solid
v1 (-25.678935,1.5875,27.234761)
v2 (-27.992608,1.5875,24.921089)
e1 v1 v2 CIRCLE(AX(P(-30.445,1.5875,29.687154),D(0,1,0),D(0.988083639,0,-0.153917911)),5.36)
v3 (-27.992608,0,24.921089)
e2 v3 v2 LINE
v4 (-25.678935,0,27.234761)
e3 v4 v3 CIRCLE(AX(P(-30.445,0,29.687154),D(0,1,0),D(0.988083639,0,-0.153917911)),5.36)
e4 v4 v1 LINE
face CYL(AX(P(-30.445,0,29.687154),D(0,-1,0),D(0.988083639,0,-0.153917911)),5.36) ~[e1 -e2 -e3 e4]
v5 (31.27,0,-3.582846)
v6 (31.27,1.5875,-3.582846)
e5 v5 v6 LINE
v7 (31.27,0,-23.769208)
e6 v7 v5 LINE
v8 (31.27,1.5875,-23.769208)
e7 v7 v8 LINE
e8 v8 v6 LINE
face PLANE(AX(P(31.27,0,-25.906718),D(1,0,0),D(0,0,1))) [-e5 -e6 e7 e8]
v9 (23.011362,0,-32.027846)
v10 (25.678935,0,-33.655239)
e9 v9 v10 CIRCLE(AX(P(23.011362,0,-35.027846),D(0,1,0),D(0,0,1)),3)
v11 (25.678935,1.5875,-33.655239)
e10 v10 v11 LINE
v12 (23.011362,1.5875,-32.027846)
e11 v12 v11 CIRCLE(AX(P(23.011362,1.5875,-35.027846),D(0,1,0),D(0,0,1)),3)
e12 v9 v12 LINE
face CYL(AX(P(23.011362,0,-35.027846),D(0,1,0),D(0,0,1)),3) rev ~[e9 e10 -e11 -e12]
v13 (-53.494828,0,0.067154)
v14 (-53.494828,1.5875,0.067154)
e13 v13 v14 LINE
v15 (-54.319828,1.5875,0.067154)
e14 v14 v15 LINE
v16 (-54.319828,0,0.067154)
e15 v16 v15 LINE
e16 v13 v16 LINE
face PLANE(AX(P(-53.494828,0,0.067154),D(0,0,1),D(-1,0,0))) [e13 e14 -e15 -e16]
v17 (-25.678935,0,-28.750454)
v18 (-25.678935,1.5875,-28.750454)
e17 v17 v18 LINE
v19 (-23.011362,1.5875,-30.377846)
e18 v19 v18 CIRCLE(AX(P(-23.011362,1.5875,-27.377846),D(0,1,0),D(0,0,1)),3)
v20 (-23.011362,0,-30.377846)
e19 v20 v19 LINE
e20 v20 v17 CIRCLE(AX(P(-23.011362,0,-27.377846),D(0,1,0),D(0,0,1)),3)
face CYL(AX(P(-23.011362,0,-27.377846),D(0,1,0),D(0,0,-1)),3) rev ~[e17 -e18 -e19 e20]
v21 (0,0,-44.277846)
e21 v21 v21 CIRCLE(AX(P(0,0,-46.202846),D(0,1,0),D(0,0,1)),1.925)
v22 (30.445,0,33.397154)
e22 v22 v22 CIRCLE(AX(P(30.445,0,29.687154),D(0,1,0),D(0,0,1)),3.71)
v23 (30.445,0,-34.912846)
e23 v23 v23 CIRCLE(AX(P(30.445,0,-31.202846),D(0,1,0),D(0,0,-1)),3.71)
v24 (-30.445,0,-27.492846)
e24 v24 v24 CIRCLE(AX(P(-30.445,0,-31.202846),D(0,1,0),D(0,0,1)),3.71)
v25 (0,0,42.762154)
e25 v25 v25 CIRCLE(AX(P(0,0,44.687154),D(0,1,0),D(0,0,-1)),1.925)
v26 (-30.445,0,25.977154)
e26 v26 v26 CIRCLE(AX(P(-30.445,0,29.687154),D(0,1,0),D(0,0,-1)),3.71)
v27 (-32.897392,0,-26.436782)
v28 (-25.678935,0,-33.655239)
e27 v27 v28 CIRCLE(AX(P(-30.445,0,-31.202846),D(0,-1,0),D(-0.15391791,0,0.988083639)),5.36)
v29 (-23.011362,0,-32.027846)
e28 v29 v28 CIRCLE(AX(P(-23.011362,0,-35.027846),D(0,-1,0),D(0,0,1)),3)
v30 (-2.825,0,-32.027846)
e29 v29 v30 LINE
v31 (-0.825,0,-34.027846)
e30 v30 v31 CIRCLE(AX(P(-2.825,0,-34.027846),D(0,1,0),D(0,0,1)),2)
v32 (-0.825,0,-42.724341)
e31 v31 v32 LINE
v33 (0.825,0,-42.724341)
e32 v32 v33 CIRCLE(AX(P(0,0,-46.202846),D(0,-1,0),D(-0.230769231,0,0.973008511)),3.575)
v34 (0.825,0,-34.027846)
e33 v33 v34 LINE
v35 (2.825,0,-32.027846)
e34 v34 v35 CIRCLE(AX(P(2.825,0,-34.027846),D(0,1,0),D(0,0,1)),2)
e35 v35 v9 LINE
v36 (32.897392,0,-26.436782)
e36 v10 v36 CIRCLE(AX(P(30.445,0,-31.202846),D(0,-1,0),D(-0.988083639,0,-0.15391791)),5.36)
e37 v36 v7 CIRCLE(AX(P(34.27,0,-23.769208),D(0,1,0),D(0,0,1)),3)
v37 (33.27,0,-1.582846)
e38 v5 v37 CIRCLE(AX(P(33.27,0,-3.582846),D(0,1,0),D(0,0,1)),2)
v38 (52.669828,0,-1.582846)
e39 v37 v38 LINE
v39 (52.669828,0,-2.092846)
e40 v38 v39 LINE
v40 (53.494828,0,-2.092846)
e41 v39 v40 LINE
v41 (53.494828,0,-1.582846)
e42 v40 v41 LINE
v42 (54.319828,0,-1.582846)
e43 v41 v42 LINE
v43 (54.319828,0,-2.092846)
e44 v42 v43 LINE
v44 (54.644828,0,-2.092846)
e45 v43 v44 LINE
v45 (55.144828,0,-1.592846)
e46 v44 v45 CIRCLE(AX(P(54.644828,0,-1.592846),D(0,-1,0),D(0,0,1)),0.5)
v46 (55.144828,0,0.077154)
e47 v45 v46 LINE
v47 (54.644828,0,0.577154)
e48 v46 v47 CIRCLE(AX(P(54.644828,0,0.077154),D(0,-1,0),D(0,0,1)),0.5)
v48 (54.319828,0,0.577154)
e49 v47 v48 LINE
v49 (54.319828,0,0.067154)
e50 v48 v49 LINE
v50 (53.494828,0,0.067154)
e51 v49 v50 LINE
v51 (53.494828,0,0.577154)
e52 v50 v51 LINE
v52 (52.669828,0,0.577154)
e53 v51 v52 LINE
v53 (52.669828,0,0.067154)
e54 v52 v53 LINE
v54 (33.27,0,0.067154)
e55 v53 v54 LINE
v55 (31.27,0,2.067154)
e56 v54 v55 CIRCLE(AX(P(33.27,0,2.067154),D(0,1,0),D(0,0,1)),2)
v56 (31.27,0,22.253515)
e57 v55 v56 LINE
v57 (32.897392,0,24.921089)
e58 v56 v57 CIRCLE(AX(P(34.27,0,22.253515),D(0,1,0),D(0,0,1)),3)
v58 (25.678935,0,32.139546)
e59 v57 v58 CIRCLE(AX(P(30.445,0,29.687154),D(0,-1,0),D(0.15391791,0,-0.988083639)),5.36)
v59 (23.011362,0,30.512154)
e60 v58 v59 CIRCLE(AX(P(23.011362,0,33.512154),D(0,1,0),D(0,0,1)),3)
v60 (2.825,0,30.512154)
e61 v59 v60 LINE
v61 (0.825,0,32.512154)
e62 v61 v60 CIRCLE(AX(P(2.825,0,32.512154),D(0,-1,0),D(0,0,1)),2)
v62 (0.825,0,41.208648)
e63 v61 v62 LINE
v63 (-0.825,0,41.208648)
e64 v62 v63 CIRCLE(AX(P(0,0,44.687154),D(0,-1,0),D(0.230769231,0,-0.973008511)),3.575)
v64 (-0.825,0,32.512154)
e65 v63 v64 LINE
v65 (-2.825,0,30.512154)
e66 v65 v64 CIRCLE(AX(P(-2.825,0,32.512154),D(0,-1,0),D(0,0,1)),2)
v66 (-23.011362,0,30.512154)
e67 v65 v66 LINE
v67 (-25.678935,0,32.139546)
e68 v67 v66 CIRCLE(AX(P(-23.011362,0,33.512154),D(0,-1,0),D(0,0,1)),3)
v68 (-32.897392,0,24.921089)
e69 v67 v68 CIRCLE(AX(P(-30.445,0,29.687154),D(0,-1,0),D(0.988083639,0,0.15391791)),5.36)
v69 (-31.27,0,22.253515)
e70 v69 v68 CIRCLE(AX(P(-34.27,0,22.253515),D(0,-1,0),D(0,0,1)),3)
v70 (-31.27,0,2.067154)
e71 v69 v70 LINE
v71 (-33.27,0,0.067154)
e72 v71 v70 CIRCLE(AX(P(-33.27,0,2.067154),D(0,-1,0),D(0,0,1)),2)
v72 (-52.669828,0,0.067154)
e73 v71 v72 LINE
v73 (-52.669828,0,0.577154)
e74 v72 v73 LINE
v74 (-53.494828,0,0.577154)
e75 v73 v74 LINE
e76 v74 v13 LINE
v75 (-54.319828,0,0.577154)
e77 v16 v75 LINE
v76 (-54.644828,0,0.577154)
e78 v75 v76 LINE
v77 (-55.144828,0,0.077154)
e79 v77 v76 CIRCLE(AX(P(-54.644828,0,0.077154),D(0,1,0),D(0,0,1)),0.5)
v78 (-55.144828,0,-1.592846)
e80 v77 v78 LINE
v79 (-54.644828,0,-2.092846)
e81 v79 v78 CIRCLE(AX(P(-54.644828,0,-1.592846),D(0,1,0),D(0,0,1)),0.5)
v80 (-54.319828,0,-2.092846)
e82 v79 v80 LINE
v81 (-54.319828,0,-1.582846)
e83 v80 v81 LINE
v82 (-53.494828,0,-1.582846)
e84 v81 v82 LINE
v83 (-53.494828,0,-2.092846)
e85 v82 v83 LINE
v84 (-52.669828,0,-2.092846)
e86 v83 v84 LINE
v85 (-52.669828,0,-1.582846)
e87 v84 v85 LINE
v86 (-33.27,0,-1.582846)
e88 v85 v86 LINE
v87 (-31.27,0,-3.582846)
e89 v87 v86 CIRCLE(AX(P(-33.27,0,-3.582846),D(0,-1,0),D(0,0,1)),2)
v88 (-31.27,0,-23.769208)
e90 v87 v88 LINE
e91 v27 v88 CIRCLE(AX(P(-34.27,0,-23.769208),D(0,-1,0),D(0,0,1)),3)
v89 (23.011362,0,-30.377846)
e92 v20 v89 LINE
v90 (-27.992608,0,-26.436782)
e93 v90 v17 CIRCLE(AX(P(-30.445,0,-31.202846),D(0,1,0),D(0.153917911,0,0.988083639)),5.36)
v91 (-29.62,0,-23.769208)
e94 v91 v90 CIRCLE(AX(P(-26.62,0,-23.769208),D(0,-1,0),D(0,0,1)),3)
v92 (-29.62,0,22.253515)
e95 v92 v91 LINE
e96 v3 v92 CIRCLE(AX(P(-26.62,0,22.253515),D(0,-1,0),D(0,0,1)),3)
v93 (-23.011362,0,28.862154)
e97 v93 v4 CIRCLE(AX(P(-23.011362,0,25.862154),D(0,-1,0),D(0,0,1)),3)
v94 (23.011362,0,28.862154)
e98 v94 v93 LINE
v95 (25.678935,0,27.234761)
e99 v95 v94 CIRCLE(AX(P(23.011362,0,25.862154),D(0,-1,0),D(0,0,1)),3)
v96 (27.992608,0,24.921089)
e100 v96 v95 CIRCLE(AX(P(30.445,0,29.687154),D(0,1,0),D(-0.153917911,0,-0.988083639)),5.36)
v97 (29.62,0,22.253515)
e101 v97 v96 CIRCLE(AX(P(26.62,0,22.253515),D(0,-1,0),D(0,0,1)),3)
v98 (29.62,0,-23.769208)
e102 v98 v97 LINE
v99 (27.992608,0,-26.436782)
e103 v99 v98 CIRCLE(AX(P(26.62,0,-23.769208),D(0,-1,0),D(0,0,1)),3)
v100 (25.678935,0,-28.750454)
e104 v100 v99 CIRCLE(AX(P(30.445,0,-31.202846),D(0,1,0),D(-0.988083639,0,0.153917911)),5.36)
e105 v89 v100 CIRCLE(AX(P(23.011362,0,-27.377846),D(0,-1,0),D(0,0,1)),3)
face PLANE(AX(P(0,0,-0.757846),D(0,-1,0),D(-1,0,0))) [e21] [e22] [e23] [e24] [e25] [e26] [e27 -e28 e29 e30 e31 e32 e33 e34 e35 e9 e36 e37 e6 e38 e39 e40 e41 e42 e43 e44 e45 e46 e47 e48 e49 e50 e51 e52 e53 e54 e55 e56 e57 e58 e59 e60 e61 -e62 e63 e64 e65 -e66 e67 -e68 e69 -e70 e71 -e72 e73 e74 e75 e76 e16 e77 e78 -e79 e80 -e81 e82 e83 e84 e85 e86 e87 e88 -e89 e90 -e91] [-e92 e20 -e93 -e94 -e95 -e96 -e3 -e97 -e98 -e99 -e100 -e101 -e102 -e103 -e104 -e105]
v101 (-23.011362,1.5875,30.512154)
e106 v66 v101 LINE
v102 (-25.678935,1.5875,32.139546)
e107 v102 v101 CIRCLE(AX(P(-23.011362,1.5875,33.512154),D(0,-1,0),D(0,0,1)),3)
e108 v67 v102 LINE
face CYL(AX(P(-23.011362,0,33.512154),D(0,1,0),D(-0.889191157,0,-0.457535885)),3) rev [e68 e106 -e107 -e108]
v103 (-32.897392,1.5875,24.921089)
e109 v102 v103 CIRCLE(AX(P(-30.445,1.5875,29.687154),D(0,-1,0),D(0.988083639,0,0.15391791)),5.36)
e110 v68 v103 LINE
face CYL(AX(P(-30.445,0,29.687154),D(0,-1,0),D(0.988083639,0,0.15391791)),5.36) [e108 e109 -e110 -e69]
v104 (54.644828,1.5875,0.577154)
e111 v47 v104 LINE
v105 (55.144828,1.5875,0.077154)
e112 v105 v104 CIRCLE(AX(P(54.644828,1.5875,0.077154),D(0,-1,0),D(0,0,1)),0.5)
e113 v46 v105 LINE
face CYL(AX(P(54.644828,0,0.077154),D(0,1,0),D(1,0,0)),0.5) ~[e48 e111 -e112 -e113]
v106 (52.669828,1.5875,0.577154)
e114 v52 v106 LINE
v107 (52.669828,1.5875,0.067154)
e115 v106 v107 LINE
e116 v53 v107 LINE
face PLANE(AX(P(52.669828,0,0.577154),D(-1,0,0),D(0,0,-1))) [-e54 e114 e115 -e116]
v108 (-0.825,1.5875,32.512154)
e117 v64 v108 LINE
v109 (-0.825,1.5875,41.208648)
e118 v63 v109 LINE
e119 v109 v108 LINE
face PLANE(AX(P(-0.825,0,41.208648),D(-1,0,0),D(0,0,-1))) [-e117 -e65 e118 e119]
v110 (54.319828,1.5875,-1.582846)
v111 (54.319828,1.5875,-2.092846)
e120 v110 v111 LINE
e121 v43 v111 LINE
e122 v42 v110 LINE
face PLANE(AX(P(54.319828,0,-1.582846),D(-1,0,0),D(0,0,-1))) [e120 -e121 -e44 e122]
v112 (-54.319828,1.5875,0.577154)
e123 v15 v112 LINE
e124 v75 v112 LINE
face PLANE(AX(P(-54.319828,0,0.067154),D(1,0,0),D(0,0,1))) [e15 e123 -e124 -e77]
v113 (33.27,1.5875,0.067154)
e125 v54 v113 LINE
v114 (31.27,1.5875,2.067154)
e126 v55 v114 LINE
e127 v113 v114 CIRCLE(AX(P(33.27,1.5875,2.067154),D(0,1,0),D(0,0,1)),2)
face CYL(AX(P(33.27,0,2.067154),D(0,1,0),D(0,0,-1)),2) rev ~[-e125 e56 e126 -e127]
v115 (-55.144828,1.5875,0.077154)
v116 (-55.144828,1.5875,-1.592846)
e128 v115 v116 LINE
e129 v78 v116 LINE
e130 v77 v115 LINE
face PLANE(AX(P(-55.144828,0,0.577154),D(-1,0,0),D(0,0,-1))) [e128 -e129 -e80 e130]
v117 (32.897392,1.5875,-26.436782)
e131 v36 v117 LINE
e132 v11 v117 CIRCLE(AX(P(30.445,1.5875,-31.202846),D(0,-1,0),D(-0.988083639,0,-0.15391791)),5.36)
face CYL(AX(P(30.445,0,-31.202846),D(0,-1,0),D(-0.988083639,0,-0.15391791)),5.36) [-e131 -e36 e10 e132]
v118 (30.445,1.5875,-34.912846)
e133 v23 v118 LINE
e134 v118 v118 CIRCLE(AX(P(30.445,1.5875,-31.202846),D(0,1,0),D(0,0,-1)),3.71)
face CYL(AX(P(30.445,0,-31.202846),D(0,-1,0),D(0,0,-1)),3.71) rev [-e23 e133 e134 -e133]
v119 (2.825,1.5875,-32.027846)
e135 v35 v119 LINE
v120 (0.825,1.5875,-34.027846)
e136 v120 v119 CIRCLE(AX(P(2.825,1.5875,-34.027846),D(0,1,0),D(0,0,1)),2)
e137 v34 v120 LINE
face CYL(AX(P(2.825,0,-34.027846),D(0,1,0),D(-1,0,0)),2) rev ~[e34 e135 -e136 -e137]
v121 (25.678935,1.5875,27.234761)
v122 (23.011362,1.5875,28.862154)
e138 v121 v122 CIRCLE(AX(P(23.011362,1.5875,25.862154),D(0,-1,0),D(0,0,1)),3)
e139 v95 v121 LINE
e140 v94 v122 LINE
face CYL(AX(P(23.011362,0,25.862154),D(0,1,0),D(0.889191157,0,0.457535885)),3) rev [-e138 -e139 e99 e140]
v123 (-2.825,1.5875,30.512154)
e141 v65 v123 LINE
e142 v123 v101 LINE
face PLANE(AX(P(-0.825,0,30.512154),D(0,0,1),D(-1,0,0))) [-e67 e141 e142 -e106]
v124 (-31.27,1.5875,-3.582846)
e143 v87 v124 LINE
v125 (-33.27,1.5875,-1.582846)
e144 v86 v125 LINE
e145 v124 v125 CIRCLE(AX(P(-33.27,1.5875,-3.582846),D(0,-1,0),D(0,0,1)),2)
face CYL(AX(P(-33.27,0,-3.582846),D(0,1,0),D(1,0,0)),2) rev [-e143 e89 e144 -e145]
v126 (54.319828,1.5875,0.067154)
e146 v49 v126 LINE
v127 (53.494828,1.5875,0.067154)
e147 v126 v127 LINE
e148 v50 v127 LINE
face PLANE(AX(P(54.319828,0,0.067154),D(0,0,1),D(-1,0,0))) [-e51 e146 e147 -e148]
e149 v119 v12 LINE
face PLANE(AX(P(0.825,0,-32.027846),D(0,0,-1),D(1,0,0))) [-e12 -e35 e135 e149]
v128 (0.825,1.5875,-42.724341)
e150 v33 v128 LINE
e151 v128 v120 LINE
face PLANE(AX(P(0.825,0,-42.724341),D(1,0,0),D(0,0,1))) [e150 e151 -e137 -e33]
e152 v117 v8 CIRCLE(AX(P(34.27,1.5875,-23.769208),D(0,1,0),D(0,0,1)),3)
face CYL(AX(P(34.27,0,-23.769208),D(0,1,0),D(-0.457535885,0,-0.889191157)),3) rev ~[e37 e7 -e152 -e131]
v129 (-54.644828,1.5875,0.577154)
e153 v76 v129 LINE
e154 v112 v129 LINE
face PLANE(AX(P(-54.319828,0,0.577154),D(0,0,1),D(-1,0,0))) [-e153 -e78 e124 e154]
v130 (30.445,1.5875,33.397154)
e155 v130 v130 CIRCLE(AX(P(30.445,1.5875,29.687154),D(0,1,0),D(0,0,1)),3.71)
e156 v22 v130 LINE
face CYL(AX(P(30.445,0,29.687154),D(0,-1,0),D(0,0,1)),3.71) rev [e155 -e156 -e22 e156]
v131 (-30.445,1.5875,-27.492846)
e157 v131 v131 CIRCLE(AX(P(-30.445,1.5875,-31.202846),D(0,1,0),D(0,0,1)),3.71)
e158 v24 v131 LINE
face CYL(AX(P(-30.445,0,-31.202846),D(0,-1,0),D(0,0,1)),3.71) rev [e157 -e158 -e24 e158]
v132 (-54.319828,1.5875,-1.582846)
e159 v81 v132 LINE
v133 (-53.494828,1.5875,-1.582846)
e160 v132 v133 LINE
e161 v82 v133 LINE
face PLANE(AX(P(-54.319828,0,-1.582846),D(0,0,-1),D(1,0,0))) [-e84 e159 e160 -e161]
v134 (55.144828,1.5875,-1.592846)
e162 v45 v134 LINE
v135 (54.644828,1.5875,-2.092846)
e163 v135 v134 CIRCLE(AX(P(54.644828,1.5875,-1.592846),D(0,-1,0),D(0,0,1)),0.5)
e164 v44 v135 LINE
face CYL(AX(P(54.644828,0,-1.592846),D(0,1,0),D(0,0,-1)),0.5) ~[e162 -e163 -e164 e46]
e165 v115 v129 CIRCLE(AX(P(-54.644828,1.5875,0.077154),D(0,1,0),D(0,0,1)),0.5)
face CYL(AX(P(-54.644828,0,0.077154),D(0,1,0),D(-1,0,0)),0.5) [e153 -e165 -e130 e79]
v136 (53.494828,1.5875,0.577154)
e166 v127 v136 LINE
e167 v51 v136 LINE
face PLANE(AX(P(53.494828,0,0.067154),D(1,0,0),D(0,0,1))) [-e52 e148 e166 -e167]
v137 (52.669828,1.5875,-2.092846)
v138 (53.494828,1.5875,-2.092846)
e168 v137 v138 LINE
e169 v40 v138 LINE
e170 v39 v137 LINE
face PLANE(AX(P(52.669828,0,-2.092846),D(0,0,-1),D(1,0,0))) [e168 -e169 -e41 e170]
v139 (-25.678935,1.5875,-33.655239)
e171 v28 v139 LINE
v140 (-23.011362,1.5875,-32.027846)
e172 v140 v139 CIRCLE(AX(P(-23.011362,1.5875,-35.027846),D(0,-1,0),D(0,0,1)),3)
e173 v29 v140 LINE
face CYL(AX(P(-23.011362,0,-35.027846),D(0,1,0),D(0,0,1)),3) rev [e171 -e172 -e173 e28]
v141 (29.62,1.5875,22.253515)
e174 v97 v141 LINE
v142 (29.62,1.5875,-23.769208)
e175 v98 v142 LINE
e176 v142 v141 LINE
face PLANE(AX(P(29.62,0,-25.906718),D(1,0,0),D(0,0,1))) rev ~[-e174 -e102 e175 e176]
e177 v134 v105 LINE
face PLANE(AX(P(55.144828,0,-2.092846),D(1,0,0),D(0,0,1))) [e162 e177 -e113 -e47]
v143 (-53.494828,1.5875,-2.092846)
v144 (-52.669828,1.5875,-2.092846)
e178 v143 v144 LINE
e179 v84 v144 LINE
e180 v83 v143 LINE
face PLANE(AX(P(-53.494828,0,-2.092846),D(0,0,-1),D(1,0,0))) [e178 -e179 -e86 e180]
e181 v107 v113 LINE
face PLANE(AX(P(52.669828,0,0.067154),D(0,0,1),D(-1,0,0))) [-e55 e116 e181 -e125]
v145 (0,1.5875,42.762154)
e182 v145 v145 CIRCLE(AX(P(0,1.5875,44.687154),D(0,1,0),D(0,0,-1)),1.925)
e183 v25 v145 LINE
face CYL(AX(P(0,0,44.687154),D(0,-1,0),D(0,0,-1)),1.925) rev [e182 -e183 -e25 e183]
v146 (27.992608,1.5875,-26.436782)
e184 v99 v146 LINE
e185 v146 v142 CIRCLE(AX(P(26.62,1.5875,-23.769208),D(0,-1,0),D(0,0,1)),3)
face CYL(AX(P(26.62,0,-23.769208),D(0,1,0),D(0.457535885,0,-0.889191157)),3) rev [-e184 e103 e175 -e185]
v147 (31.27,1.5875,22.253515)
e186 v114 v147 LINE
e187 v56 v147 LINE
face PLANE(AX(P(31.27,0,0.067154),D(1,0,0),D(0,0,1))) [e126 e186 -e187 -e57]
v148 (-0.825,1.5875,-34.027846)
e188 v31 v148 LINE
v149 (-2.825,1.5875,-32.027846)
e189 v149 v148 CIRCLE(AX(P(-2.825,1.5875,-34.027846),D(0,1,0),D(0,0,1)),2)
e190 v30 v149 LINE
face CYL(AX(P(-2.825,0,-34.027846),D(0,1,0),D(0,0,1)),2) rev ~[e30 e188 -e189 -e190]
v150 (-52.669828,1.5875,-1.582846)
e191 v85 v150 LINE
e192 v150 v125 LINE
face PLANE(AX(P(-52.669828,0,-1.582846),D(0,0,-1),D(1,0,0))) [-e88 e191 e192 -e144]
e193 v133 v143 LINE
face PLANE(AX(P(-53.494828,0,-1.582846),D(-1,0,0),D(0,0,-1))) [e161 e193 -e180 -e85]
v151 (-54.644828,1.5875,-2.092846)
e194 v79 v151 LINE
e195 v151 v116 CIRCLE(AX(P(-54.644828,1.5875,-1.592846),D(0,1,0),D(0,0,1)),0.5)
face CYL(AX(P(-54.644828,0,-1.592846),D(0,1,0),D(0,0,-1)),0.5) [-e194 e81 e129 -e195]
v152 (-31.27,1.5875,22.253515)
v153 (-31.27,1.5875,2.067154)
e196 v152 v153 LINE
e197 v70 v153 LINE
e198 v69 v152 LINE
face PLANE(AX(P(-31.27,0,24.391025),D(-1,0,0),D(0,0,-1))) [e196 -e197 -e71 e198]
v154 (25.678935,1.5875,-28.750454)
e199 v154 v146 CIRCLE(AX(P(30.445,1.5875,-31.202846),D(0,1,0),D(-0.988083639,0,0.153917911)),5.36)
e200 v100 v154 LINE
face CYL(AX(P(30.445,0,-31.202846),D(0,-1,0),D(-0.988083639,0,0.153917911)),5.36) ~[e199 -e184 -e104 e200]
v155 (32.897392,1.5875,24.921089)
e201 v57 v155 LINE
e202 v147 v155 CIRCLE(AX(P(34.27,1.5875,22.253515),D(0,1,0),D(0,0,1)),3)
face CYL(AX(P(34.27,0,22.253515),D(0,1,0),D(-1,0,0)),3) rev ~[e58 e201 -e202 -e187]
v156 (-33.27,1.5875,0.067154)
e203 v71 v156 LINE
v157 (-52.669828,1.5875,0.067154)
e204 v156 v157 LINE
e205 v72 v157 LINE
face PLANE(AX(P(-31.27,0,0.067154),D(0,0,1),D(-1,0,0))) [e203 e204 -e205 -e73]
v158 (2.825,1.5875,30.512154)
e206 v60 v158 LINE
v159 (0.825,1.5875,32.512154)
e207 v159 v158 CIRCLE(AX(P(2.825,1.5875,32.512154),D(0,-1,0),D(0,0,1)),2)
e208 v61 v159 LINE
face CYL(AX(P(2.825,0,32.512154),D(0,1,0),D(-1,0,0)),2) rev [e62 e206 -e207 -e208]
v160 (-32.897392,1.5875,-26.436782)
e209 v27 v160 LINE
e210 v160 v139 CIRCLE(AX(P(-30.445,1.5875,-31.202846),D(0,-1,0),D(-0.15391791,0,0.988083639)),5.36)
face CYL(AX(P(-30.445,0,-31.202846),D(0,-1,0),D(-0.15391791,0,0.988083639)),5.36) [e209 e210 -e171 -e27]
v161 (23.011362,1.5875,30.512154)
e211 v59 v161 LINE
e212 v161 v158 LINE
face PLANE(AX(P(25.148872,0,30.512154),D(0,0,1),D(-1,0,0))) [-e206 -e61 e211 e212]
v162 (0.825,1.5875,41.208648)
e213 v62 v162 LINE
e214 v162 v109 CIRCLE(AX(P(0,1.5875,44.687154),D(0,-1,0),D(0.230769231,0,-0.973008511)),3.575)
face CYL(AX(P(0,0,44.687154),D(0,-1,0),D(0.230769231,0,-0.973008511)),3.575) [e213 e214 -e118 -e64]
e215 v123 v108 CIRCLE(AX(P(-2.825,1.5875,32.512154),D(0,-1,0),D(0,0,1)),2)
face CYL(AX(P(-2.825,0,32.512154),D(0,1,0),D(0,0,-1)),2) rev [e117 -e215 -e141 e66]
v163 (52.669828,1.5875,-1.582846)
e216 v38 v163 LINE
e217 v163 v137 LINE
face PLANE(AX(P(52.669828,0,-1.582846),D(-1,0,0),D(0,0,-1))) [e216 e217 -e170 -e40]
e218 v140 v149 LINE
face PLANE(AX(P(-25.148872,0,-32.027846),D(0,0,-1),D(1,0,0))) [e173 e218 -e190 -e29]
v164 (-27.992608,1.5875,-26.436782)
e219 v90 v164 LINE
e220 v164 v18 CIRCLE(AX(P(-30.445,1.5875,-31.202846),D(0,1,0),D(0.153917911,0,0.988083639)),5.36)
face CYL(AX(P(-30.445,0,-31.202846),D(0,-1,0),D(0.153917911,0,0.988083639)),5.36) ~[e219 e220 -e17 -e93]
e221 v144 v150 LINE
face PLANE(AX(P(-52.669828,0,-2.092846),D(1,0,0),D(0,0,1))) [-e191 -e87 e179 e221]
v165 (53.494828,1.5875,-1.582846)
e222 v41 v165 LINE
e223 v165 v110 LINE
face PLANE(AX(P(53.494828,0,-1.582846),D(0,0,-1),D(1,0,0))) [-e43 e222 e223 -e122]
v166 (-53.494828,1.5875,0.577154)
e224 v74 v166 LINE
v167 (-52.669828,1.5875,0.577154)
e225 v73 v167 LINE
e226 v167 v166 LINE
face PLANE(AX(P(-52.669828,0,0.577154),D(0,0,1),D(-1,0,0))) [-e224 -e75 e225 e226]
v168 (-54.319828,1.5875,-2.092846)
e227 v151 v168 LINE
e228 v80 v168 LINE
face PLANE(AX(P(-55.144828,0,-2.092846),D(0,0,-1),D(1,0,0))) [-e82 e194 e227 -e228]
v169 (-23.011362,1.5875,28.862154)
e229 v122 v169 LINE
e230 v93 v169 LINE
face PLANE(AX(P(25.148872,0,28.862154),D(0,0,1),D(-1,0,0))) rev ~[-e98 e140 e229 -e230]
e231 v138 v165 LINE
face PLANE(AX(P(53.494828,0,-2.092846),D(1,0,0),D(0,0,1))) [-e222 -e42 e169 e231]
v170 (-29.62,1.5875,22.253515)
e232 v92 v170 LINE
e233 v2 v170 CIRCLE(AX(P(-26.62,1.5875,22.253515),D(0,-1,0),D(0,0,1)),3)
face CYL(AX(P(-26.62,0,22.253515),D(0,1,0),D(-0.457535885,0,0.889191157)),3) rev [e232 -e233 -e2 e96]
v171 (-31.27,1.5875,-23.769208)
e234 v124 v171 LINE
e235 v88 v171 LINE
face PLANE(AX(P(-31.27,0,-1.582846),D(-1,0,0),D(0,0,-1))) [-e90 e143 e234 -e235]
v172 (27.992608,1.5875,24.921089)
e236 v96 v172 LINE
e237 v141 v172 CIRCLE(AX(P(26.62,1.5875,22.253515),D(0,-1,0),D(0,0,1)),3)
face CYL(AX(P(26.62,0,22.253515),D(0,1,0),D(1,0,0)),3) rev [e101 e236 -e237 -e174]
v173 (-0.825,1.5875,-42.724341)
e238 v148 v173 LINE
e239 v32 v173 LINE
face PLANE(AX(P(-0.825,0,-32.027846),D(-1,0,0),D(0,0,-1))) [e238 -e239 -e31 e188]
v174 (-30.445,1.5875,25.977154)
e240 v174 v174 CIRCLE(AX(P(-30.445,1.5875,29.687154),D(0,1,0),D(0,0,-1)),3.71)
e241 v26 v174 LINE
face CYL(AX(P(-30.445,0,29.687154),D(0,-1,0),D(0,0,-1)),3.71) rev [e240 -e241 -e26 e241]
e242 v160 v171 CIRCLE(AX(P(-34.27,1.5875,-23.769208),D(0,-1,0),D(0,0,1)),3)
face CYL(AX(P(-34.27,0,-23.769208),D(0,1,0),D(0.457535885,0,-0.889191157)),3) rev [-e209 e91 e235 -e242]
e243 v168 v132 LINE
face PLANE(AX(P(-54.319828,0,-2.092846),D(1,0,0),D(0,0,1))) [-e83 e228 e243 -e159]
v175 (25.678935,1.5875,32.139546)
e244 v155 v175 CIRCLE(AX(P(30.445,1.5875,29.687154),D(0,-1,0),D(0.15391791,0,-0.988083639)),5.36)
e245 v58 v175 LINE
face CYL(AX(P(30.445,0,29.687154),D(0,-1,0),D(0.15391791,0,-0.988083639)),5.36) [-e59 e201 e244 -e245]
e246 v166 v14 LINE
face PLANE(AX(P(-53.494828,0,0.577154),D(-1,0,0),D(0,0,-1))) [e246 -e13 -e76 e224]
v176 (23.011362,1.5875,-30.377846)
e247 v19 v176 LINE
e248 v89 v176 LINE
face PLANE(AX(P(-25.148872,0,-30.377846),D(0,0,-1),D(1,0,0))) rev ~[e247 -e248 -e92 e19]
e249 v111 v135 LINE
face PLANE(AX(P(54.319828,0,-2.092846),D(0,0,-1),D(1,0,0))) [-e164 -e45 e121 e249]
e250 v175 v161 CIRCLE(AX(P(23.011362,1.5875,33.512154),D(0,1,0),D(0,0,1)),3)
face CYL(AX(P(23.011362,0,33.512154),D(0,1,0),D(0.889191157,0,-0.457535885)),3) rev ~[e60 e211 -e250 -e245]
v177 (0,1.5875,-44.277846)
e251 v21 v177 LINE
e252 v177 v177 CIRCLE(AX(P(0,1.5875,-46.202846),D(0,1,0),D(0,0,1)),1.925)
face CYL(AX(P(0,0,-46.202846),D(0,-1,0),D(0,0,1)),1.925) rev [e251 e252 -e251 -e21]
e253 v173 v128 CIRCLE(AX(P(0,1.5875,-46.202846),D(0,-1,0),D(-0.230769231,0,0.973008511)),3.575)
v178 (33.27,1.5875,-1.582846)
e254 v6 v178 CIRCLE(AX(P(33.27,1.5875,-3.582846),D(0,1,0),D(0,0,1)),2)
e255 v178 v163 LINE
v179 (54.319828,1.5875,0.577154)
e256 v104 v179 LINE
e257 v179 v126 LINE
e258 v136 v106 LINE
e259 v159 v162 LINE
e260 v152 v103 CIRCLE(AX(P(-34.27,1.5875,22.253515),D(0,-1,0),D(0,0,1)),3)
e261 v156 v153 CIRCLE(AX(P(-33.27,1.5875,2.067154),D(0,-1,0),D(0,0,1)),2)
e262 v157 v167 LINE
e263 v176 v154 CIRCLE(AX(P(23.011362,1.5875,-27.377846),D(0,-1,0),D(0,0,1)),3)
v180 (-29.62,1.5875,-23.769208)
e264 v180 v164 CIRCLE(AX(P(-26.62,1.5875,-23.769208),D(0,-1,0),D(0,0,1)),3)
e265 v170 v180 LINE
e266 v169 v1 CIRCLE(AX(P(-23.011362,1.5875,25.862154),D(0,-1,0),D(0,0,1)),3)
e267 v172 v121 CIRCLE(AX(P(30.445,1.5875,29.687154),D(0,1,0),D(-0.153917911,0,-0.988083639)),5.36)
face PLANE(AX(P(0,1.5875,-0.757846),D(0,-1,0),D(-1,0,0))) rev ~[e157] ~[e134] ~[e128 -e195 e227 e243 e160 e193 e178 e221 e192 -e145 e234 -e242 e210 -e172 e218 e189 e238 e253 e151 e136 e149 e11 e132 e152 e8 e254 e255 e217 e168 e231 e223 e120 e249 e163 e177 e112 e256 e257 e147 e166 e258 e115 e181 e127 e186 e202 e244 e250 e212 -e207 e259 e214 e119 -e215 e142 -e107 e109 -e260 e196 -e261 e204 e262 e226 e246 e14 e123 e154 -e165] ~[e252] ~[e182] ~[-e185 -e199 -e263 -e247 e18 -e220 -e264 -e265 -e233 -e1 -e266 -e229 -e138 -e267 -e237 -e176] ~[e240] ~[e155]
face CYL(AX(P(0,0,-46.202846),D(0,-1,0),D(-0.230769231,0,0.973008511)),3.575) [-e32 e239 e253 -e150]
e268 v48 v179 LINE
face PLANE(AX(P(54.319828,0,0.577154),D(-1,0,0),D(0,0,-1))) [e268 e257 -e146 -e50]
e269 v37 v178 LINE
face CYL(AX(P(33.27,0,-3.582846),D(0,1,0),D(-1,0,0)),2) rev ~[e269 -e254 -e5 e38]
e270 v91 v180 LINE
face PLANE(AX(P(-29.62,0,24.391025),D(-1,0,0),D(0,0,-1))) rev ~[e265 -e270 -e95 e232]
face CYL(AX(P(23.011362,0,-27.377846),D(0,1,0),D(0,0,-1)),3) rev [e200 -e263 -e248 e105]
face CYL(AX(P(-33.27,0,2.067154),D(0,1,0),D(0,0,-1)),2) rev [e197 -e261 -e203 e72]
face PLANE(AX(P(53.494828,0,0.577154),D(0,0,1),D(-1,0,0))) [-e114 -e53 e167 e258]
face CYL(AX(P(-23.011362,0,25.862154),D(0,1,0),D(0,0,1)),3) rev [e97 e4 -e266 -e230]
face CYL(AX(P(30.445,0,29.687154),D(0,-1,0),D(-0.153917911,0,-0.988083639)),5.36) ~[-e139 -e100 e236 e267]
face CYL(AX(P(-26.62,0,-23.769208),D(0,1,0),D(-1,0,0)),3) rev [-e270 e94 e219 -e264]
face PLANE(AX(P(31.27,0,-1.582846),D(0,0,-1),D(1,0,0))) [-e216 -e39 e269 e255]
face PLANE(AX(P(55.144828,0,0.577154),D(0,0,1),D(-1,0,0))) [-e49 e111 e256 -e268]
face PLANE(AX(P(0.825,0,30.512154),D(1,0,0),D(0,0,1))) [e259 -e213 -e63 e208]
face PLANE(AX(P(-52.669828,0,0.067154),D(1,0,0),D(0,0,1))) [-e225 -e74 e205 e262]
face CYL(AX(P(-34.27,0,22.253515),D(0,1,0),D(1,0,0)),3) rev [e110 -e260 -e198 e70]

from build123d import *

# Parameters (mm, degrees)
SKETCH1_R           = 3.71
SKETCH1_R_2         = 1.925
BOSS_EXTRUDE1_DEPTH = 1.5875
FILLET1_R           = 3
FILLET2_R           = 2
FILLET3_R           = 0.5


with BuildPart() as part:
    # Sketch1 → Boss-Extrude1 (new body)
    with BuildSketch(Plane(origin=(0, 0, 0), x_dir=(1, 0, 0), z_dir=(0, 1, 0))):
        with BuildLine():
            Line((-25.148871697, 32.027846467), (-0.825, 32.027846467))
            Line((-0.825, 32.027846467), (-0.825, 42.724341041))
            ThreePointArc((-0.825, 42.724341041), (0, 49.777846467), (0.825, 42.724341041))
            Line((0.825, 42.724341041), (0.825, 32.027846467))
            Line((0.825, 32.027846467), (25.148871697, 32.027846467))
            ThreePointArc((25.148871697, 32.027846467), (34.235092347, 34.992938814), (31.27, 25.906718164))
            Line((31.27, 25.906718164), (31.27, 1.582846467))
            Line((31.27, 1.582846467), (52.669827862, 1.582846467))
            Line((52.669827862, 1.582846467), (52.669827862, 2.092846467))
            Line((52.669827862, 2.092846467), (53.494827862, 2.092846467))
            Line((53.494827862, 2.092846467), (53.494827862, 1.582846467))
            Line((53.494827862, 1.582846467), (54.319827862, 1.582846467))
            Line((54.319827862, 1.582846467), (54.319827862, 2.092846467))
            Line((54.319827862, 2.092846467), (55.144827862, 2.092846467))
            Line((55.144827862, 2.092846467), (55.144827862, -0.577153533))
            Line((55.144827862, -0.577153533), (54.319827862, -0.577153533))
            Line((54.319827862, -0.577153533), (54.319827862, -0.067153533))
            Line((54.319827862, -0.067153533), (53.494827862, -0.067153533))
            Line((53.494827862, -0.067153533), (53.494827862, -0.577153533))
            Line((53.494827862, -0.577153533), (52.669827862, -0.577153533))
            Line((52.669827862, -0.577153533), (52.669827862, -0.067153533))
            Line((52.669827862, -0.067153533), (31.27, -0.067153533))
            Line((31.27, -0.067153533), (31.27, -24.39102523))
            ThreePointArc((31.27, -24.39102523), (34.235092347, -33.47724588), (25.148871697, -30.512153533))
            Line((25.148871697, -30.512153533), (0.825, -30.512153533))
            Line((0.825, -30.512153533), (0.825, -41.208648107))
            ThreePointArc((0.825, -41.208648107), (0, -48.262153533), (-0.825, -41.208648107))
            Line((-0.825, -41.208648107), (-0.825, -30.512153533))
            Line((-0.825, -30.512153533), (-25.148871697, -30.512153533))
            ThreePointArc((-25.148871697, -30.512153533), (-34.235092347, -33.47724588), (-31.27, -24.39102523))
            Line((-31.27, -24.39102523), (-31.27, -0.067153533))
            Line((-31.27, -0.067153533), (-52.669827862, -0.067153533))
            Line((-52.669827862, -0.067153533), (-52.669827862, -0.577153533))
            Line((-52.669827862, -0.577153533), (-53.494827862, -0.577153533))
            Line((-53.494827862, -0.577153533), (-53.494827862, -0.067153533))
            Line((-53.494827862, -0.067153533), (-54.319827862, -0.067153533))
            Line((-54.319827862, -0.067153533), (-54.319827862, -0.577153533))
            Line((-54.319827862, -0.577153533), (-55.144827862, -0.577153533))
            Line((-55.144827862, -0.577153533), (-55.144827862, 2.092846467))
            Line((-55.144827862, 2.092846467), (-54.319827862, 2.092846467))
            Line((-54.319827862, 2.092846467), (-54.319827862, 1.582846467))
            Line((-54.319827862, 1.582846467), (-53.494827862, 1.582846467))
            Line((-53.494827862, 1.582846467), (-53.494827862, 2.092846467))
            Line((-53.494827862, 2.092846467), (-52.669827862, 2.092846467))
            Line((-52.669827862, 2.092846467), (-52.669827862, 1.582846467))
            Line((-52.669827862, 1.582846467), (-31.27, 1.582846467))
            Line((-31.27, 1.582846467), (-31.27, 25.906718164))
            ThreePointArc((-31.27, 25.906718164), (-34.235092347, 34.992938814), (-25.148871697, 32.027846467))
        make_face()
        with Locations(Location((-30.445, 31.202846467, 0), (0, 0, 270))):
            Circle(SKETCH1_R, mode=Mode.SUBTRACT)
        with Locations(Location((30.445, 31.202846467, 0), (0, 0, 90))):
            Circle(SKETCH1_R, mode=Mode.SUBTRACT)
        with Locations(Location((30.445, -29.687153533, 0), (0, 0, 270))):
            Circle(SKETCH1_R, mode=Mode.SUBTRACT)
        with Locations(Location((-30.445, -29.687153533, 0), (0, 0, 90))):
            Circle(SKETCH1_R, mode=Mode.SUBTRACT)
        with Locations(Location((0, 46.202846467, 0), (0, 0, 270))):
            Circle(SKETCH1_R_2, mode=Mode.SUBTRACT)
        with Locations(Location((0, -44.687153533, 0), (0, 0, 90))):
            Circle(SKETCH1_R_2, mode=Mode.SUBTRACT)
        with BuildLine():
            Line((-25.148871697, 30.377846467), (25.148871697, 30.377846467))
            ThreePointArc((25.148871697, 30.377846467), (26.654907653, 27.41275412), (29.62, 25.906718164))
            Line((29.62, 25.906718164), (29.62, -24.39102523))
            ThreePointArc((29.62, -24.39102523), (26.654907653, -25.897061186), (25.148871697, -28.862153533))
            Line((25.148871697, -28.862153533), (-25.148871697, -28.862153533))
            ThreePointArc((-25.148871697, -28.862153533), (-26.654907653, -25.897061186), (-29.62, -24.39102523))
            Line((-29.62, -24.39102523), (-29.62, 25.906718164))
            ThreePointArc((-29.62, 25.906718164), (-26.654907653, 27.41275412), (-25.148871697, 30.377846467))
        make_face(mode=Mode.SUBTRACT)
    extrude(amount=BOSS_EXTRUDE1_DEPTH)

    # Fillet1
    fillet1_edges = [part.edges().sort_by_distance(p)[0] for p in [
        (-25.148871697, 0.79375, -30.377846467),
        (-29.62, 0.79375, -25.906718164),
        (-29.62, 0.79375, 24.39102523),
        (-25.148871697, 0.79375, 28.862153533),
        (25.148871697, 0.79375, 28.862153533),
        (29.62, 0.79375, 24.39102523),
        (29.62, 0.79375, -25.906718164),
        (25.148871697, 0.79375, -30.377846467),
        (31.27, 0.79375, 24.39102523),
        (25.148871697, 0.79375, 30.512153533),
        (-25.148871697, 0.79375, 30.512153533),
        (-31.27, 0.79375, 24.39102523),
        (-31.27, 0.79375, -25.906718164),
        (-25.148871697, 0.79375, -32.027846467),
        (25.148871697, 0.79375, -32.027846467),
        (31.27, 0.79375, -25.906718164),
    ]]
    fillet(fillet1_edges, radius=FILLET1_R)

    # Fillet2
    fillet2_edges = [part.edges().sort_by_distance(p)[0] for p in [
        (31.27, 0.79375, 0.067153533),
        (0.825, 0.79375, 30.512153533),
        (-0.825, 0.79375, 30.512153533),
        (-31.27, 0.79375, 0.067153533),
        (-31.27, 0.79375, -1.582846467),
        (-0.825, 0.79375, -32.027846467),
        (0.825, 0.79375, -32.027846467),
        (31.27, 0.79375, -1.582846467),
    ]]
    fillet(fillet2_edges, radius=FILLET2_R)

    # Fillet3
    fillet3_edges = [part.edges().sort_by_distance(p)[0] for p in [
        (55.144827862, 0.79375, -2.092846467),
        (55.144827862, 0.79375, 0.577153533),
        (-55.144827862, 0.79375, 0.577153533),
        (-55.144827862, 0.79375, -2.092846467),
    ]]
    fillet(fillet3_edges, radius=FILLET3_R)


solid = part.part
